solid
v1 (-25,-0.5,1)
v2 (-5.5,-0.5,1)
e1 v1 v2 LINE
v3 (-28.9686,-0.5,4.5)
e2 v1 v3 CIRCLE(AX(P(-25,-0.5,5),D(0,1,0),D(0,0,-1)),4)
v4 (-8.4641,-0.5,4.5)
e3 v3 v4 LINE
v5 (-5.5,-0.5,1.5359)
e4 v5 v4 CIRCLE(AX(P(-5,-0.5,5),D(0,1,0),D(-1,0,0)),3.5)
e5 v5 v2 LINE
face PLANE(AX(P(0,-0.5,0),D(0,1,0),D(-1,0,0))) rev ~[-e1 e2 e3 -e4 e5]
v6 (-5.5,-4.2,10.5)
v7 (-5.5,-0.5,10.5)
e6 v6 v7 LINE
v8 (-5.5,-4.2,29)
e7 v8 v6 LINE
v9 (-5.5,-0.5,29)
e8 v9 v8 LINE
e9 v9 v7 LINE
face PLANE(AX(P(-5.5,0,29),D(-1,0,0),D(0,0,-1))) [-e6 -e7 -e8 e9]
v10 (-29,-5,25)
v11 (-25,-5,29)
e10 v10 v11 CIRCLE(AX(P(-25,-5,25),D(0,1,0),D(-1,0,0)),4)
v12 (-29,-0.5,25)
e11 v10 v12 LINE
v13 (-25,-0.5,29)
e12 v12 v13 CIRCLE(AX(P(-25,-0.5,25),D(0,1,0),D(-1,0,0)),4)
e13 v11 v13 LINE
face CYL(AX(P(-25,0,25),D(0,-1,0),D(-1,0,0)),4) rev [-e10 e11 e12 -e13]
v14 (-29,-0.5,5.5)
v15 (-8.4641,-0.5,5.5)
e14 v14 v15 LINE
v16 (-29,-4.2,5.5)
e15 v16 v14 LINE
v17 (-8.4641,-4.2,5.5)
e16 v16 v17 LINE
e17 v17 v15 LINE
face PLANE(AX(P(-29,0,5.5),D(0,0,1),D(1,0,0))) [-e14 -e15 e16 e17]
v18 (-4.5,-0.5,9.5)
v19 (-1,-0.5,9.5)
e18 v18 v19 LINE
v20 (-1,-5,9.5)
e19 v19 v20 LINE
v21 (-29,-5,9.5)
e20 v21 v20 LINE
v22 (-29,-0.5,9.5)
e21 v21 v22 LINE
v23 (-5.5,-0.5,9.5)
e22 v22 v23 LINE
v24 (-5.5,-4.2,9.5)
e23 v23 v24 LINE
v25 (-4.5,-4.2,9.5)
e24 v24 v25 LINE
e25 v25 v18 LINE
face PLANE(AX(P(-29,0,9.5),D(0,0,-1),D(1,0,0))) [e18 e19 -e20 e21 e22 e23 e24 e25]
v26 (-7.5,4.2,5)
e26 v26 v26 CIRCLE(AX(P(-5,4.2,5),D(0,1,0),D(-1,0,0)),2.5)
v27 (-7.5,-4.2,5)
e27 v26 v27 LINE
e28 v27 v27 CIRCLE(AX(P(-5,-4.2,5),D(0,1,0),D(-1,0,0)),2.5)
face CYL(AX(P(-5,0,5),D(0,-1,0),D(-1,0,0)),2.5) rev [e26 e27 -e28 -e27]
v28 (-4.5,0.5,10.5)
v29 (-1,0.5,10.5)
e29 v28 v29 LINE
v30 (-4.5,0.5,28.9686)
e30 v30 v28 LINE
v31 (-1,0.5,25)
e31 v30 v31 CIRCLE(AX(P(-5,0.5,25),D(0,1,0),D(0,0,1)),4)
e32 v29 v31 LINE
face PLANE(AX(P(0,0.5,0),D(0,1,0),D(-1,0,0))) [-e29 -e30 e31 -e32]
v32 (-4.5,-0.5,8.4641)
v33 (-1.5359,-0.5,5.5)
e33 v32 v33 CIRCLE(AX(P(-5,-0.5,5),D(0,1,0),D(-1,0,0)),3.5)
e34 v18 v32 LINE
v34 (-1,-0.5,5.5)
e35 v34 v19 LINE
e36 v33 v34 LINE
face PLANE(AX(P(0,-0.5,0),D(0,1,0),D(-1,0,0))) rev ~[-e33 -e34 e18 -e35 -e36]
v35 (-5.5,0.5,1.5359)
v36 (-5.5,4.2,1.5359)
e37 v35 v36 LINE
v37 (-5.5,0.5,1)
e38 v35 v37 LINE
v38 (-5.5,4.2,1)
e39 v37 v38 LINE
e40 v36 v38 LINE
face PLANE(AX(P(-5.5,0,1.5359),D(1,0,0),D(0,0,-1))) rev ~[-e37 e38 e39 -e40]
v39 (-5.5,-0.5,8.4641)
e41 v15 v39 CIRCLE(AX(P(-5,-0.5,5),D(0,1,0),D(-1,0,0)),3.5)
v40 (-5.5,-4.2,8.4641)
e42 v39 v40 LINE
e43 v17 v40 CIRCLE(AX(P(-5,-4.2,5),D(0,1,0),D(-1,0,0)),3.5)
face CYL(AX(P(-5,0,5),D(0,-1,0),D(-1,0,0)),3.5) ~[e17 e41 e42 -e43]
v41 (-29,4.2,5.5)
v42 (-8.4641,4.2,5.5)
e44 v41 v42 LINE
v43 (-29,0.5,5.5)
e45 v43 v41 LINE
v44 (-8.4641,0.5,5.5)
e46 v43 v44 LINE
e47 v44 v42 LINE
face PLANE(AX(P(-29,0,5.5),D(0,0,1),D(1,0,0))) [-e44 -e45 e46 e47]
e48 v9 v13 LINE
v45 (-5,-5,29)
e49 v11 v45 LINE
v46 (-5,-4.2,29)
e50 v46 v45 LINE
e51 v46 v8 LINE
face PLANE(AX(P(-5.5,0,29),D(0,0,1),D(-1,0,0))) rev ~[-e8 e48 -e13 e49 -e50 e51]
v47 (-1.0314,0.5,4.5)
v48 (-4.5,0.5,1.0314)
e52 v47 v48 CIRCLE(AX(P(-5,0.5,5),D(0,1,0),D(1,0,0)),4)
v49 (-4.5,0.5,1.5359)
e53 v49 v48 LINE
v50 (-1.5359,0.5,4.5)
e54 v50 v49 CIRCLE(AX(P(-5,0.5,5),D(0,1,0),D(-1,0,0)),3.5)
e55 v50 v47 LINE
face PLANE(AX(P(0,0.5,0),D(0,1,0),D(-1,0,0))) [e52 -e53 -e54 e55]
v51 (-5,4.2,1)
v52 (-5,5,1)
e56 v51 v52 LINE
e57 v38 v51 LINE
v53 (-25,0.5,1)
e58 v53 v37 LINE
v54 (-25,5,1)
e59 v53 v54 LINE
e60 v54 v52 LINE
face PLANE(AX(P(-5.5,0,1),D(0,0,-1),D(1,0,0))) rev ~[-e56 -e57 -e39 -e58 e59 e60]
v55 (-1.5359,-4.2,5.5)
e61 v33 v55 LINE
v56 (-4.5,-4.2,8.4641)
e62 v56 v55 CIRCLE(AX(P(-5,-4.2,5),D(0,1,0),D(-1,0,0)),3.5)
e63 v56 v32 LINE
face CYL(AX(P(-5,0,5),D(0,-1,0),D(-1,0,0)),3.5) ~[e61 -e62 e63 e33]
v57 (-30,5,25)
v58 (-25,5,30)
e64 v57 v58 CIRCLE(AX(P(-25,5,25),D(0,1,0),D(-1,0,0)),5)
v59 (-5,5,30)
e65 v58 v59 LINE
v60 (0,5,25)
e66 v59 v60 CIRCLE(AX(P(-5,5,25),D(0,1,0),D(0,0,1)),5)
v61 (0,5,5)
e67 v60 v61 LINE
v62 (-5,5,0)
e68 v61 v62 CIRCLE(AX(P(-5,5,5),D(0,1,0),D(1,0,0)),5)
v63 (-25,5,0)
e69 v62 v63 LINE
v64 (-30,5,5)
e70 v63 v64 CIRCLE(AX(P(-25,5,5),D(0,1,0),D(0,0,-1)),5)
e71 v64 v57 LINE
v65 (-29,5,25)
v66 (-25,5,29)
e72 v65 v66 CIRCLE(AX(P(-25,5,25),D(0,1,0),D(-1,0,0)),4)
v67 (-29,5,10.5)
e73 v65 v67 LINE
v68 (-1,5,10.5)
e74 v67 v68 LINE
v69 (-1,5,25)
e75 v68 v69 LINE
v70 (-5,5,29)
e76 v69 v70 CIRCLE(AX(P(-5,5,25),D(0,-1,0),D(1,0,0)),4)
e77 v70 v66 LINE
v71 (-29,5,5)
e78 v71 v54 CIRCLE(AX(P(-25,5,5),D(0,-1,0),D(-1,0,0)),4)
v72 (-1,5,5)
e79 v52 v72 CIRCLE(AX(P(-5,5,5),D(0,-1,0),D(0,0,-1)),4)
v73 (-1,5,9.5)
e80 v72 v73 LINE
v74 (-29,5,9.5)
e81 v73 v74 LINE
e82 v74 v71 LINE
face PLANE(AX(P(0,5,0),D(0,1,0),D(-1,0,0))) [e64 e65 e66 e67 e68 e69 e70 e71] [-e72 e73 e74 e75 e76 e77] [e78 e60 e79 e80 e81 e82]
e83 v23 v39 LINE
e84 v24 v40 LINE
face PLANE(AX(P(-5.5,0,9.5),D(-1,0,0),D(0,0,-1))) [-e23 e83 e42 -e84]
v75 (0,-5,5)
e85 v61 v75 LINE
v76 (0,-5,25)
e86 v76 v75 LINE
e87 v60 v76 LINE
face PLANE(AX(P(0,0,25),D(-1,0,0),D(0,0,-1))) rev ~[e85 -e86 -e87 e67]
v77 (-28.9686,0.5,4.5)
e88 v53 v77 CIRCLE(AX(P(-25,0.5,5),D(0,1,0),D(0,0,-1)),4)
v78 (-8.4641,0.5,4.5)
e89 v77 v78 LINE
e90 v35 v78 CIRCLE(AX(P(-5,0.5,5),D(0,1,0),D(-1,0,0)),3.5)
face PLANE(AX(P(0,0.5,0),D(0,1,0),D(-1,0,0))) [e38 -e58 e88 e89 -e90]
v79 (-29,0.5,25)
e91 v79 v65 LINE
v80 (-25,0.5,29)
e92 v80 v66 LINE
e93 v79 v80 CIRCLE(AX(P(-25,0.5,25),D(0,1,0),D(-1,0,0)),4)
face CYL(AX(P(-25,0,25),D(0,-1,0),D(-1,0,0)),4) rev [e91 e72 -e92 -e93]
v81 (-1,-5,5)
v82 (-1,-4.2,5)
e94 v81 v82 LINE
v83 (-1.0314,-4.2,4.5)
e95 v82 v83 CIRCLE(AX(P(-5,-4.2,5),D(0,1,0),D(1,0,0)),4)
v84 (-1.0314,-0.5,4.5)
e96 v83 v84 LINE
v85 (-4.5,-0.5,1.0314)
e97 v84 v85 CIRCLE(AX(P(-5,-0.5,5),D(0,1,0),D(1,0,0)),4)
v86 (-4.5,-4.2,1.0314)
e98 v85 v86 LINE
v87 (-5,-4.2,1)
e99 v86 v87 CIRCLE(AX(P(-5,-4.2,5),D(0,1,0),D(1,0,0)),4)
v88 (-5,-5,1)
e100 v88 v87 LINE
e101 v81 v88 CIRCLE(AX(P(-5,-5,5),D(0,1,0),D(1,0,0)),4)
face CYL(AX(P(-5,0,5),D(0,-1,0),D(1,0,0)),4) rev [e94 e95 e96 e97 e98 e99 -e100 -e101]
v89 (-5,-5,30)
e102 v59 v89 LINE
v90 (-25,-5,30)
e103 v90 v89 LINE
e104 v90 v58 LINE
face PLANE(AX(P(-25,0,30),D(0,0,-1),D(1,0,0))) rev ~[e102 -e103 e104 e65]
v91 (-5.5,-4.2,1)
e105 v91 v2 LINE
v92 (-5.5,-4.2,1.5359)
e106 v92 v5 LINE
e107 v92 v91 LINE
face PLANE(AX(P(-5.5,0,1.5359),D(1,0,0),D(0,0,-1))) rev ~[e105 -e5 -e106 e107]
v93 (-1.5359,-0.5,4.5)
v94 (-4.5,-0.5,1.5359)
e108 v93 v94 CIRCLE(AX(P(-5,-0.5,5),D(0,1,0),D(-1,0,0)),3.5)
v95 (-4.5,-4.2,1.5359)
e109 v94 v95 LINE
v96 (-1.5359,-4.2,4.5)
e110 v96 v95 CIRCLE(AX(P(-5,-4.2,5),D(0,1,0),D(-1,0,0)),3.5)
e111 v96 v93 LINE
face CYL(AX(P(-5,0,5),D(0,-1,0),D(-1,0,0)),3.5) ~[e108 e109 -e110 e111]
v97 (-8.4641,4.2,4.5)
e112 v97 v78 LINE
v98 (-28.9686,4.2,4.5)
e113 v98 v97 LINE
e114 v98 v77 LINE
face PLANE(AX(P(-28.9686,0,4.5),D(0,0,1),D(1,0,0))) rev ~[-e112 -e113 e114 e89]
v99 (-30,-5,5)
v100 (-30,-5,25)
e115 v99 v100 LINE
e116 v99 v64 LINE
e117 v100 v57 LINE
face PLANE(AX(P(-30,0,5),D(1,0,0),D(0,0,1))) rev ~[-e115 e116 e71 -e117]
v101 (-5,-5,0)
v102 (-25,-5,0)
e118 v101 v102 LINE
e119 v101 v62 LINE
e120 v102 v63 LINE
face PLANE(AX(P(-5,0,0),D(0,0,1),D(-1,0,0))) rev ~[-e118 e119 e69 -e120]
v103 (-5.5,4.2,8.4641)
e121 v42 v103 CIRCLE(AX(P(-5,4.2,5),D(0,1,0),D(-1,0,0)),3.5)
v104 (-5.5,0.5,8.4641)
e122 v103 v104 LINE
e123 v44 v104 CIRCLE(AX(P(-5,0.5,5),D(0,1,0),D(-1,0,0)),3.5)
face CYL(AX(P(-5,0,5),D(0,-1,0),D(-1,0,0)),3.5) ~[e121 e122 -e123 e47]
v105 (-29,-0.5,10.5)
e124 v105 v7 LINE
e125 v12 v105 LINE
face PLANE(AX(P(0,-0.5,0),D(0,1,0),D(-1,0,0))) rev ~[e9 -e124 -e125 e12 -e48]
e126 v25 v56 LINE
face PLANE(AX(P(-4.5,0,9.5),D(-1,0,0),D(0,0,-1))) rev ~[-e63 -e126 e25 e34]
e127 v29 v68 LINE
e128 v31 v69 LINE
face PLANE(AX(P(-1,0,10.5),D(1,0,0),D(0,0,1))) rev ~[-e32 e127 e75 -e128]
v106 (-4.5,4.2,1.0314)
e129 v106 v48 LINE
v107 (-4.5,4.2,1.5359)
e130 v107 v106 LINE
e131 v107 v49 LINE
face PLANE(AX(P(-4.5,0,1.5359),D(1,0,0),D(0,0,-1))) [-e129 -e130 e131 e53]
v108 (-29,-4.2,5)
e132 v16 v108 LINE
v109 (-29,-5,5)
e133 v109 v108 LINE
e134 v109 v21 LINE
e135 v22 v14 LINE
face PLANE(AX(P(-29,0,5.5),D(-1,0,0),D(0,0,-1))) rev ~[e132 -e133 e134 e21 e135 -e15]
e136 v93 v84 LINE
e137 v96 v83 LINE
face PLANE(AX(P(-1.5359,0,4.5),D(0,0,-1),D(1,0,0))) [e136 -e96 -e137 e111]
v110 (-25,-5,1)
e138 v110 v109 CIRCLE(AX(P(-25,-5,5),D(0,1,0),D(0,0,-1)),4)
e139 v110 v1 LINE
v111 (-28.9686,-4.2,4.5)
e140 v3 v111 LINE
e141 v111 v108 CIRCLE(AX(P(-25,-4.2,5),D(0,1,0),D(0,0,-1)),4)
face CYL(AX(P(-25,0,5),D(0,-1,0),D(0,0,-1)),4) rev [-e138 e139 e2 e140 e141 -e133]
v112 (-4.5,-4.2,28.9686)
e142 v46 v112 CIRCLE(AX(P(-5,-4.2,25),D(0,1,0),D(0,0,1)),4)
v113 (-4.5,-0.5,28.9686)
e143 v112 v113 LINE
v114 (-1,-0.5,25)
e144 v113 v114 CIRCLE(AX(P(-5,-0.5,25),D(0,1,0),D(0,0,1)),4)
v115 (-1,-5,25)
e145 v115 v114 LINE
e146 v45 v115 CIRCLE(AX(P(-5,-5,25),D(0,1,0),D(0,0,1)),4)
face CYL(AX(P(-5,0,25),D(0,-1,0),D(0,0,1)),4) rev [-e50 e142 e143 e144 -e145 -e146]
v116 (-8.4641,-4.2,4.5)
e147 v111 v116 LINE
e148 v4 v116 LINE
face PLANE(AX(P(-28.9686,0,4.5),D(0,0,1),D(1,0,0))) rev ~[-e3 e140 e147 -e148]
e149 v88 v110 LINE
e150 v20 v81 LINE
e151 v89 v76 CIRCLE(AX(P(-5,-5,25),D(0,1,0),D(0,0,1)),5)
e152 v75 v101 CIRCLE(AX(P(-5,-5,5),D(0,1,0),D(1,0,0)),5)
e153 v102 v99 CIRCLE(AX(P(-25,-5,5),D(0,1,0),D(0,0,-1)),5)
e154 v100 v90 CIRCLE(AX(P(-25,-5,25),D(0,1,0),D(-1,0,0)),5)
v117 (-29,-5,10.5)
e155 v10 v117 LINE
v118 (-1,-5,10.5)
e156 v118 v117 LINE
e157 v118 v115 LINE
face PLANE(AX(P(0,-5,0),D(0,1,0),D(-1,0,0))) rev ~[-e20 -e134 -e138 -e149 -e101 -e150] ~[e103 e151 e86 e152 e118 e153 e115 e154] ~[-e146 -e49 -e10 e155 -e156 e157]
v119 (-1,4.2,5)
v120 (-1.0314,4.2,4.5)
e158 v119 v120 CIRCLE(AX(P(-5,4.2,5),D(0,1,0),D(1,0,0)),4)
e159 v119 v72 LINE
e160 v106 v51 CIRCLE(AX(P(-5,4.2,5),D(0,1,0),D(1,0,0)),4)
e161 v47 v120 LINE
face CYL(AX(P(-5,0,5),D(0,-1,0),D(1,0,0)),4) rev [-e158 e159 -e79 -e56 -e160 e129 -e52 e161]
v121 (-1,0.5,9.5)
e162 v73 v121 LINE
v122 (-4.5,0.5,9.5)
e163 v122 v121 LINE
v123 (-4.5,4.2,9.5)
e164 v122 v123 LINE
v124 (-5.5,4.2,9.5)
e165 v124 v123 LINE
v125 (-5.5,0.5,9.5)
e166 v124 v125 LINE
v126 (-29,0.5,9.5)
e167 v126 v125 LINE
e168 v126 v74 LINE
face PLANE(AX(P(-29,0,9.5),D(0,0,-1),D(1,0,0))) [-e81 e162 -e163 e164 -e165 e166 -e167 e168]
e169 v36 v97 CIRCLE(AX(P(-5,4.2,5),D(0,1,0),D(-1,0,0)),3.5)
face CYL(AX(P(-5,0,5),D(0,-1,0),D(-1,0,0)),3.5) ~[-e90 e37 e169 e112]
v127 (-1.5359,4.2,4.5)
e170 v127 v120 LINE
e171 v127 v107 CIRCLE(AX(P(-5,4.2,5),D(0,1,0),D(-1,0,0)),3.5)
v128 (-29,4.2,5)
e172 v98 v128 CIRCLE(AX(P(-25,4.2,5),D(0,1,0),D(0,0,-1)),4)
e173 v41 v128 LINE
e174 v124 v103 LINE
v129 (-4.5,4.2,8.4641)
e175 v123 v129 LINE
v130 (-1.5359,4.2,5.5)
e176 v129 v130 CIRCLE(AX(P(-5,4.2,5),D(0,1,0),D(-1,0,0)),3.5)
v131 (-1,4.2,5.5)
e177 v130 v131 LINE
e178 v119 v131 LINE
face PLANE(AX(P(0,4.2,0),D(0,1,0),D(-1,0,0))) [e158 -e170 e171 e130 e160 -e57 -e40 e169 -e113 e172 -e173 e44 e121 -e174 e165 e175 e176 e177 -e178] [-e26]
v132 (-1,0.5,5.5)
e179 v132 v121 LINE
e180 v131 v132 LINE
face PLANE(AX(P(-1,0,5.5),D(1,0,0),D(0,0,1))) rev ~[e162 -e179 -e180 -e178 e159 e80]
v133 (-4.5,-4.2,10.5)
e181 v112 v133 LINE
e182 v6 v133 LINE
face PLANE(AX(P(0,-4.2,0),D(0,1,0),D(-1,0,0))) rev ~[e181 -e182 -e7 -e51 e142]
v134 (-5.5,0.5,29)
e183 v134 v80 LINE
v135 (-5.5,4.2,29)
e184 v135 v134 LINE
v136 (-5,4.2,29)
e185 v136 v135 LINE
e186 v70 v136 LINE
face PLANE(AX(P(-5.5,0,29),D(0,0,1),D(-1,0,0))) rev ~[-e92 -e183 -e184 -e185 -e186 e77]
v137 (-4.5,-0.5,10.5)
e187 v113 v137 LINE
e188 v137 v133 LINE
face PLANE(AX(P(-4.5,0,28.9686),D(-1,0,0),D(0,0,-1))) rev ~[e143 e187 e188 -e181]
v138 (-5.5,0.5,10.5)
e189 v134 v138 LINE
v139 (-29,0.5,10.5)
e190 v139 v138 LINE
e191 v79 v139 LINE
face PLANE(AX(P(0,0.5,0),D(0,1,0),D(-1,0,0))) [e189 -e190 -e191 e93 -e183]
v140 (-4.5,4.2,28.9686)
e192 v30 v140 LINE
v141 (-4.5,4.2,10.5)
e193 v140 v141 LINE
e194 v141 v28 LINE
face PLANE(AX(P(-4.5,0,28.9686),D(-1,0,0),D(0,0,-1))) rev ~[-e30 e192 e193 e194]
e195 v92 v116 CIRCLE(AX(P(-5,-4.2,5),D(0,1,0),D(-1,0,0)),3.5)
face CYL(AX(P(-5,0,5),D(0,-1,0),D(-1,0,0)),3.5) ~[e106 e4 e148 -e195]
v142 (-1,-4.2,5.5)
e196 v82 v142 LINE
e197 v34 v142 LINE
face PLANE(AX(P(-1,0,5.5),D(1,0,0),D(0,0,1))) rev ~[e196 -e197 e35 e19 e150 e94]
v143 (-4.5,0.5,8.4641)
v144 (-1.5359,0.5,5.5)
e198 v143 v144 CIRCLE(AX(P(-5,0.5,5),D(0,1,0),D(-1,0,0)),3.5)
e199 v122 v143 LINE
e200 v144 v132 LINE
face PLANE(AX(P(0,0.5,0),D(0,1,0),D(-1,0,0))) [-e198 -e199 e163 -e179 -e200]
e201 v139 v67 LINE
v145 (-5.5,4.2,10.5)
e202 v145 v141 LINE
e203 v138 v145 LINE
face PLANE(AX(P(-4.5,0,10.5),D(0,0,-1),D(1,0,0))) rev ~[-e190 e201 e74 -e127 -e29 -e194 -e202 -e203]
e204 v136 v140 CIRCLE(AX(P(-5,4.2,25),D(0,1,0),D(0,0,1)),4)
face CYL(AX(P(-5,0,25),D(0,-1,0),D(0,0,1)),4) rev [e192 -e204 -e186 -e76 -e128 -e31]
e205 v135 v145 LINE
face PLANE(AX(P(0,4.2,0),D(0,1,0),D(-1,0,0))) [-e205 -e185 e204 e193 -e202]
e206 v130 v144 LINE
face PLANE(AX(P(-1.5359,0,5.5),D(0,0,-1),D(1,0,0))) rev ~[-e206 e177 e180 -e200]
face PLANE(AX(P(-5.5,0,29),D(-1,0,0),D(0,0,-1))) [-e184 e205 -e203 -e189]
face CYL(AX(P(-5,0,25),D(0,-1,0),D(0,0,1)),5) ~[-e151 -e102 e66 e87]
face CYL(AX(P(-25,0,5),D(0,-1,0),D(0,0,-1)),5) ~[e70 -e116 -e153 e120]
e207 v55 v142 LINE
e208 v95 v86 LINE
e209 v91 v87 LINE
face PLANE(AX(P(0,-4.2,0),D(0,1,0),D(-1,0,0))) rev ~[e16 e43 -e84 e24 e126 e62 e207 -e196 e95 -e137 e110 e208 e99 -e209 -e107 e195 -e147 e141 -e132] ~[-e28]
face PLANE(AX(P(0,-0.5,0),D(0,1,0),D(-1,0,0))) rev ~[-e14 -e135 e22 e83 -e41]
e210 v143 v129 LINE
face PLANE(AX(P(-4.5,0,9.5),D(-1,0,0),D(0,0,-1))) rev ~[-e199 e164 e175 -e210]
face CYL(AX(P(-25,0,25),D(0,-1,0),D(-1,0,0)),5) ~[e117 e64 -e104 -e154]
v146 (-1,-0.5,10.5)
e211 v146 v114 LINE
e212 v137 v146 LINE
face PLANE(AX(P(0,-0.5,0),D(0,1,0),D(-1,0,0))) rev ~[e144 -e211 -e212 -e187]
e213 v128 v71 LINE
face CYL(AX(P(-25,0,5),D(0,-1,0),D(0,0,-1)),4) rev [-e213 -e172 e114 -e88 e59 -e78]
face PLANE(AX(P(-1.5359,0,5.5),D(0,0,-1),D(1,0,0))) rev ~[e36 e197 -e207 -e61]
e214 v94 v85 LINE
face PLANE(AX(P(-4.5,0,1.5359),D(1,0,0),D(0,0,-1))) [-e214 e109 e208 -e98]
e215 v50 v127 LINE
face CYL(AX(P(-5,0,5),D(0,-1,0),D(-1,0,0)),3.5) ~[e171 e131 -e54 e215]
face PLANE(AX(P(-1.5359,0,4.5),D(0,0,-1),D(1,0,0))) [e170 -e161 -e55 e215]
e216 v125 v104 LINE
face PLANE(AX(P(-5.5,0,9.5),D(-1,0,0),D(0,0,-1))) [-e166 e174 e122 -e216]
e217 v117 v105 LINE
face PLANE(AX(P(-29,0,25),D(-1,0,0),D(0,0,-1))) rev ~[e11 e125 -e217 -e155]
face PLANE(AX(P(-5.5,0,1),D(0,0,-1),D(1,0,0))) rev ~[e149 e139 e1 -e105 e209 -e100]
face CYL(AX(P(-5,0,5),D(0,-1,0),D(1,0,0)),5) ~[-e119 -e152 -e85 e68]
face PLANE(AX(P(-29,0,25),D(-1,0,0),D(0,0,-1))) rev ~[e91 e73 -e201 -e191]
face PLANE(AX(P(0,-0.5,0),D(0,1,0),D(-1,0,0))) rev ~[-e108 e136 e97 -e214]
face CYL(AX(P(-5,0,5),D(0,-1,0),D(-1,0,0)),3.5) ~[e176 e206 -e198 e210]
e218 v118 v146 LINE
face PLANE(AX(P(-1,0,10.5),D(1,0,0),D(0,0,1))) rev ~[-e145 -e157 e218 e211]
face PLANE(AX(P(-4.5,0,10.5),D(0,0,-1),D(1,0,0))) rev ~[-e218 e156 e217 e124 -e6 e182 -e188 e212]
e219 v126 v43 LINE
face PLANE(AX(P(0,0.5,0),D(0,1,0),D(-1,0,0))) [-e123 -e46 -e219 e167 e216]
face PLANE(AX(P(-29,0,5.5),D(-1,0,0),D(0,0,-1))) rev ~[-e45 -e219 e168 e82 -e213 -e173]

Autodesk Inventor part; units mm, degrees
ref_plane "YZ Plane" through (0, 0, 0) normal (1, 0, 0) x (0, 1, 0)
ref_plane "XZ Plane" through (0, 0, 0) normal (0, 1, 0) x (-1, 0, 0)
ref_plane "XY Plane" through (0, 0, 0) normal (0, 0, 1) x (1, 0, 0)
sketch "Beam_sketch" plane through (0, 0, 0) normal (0, 1, 0) x (-1, 0, 0)
  line L0 (5, 0) -> (25, 0)
  line L1 (30, 5) -> (30, 25)
  line L2 (25, 30) -> (5, 30)
  line L3 (0, 25) -> (0, 5)
  line L4 (5, 29) -> (25, 29)
  line L5 (29, 25) -> (29, 5)
  line L6 (25, 1) -> (5, 1)
  line L7 (1, 5) -> (1, 25)
  circle A0 centre (5, 5) radius 2.5
  circle A1 centre (5, 5) radius 3.5
  arc A2 (25, 0) -> (30, 5) centre (25, 5) ccw
  arc A3 (30, 25) -> (25, 30) centre (25, 25) ccw
  arc A4 (5, 30) -> (0, 25) centre (5, 25) ccw
  arc A5 (0, 5) -> (5, 0) centre (5, 5) ccw
  arc A6 (1, 5) -> (5, 1) centre (5, 5) ccw
  arc A7 (5, 29) -> (1, 25) centre (5, 25) ccw
  arc A8 (29, 25) -> (25, 29) centre (25, 25) ccw
  arc A9 (25, 1) -> (29, 5) centre (25, 5) ccw
  line L8 (49.1041, 15) -> (-27.081, 15) construction
  line L9 (31.1478, 10) -> (-2.4877, 10) construction
  line L10 (-2.8604, 5) -> (35.495, 5) construction
  line L11 (5, -2.5736) -> (5, 36.7522) construction
  line L12 (15, -1.4978) -> (15, 34.8784) construction
  line L13 (1.5359, 5.5) -> (1, 5.5)
  line L14 (1.5359, 4.5) -> (1.0314, 4.5)
  line L15 (28.9686, 4.5) -> (8.4641, 4.5)
  line L16 (29, 5.5) -> (8.4641, 5.5)
  line L17 (4.5, 1.5359) -> (4.5, 1.0314)
  line L18 (5.5, 1.5359) -> (5.5, 1)
  line L19 (29, 10.5) -> (1, 10.5)
  line L20 (29, 9.5) -> (1, 9.5)
  line L21 (4.5, 28.9686) -> (4.5, 10.5)
  line L22 (4.5, 9.5) -> (4.5, 8.4641)
  line L23 (5.5, 29) -> (5.5, 10.5)
  line L24 (5.5, 9.5) -> (5.5, 8.4641)
  point P0 (0, 0)
  point P1 (30, 30)
  point P2 (0, 30)
  dimension "d46" = 7
  dimension "d0" = 30
  dimension "d1" = 30
  dimension "d2" = 1
  dimension "d3" = 5
  dimension "d5" = 5
  dimension "d7" = 5
  dimension "d8" = 4
  dimension "d29" = 5
  dimension "d40" = 10
  dimension "d58" = 1
  dimension "d59" = 1
  dimension "d72" = 1
extrude "Extrusion5" add sketch "Beam_sketch" along normal blind 5 contours A5 L3 A4 L2 A3 L1 A2 L0 | L19 L5 L20 L7
extrude "Extrusion6" add sketch "Beam_sketch" against normal blind 5 contours A5 L3 A4 L2 A3 L1 A2 L0 | L19 L5 L20 L7
extrude "Extrusion7" add sketch "Beam_sketch" along normal blind 4.2 contours L4 L23 L19 L21 A7 | L5 A9 L15 A1 L16 | L24 A1 L22 L20 | L13 A1 L14 A6 L7 | A1 | L17 A1 L18 L6 A6
extrude "Extrusion8" add sketch "Beam_sketch" against normal blind 4.2 contours L4 L23 L19 L21 A7 | L5 A9 L15 A1 L16 | L24 A1 L22 L20 | L13 A1 L14 A6 L7 | A1 | L17 A1 L18 L6 A6
extrude "Extrusion9" add sketch "Beam_sketch" along normal blind 0.5 contours L4 A8 L5 L19 L23 | L21 L19 L7 A7 | L5 L16 A1 L24 L20 | L20 L22 A1 L13 L7 | A9 L6 L18 A1 L15 | L14 A1 L17 A6
extrude "Extrusion10" add sketch "Beam_sketch" against normal blind 0.5 contours L4 A8 L5 L19 L23 | L21 L19 L7 A7 | L5 L16 A1 L24 L20 | L20 L22 A1 L13 L7 | A9 L6 L18 A1 L15 | L14 A1 L17 A6
sketch "Axle_sketch" plane through (0, 0, 0) normal (0, 1, 0) x (-1, 0, 0)
  circle A0 centre (-15.8957, 4.3197) radius 2.5 construction
  line L0 (-14.4207, 2.4447) -> (-17.3707, 2.4447)
  line L1 (-17.7707, 2.8447) -> (-17.7707, 5.7947)
  line L2 (-17.3707, 6.1947) -> (-14.4207, 6.1947)
  line L3 (-14.0207, 5.7947) -> (-14.0207, 2.8447)
  line L4 (-14.0207, 2.4447) -> (-17.7707, 6.1947) construction
  line L5 (-17.7707, 2.4447) -> (-14.0207, 6.1947) construction
  arc A1 (-14.4207, 2.4447) -> (-14.0207, 2.8447) centre (-14.4207, 2.8447) ccw
  arc A2 (-17.7707, 2.8447) -> (-17.3707, 2.4447) centre (-17.3707, 2.8447) ccw
  arc A3 (-14.0207, 5.7947) -> (-14.4207, 6.1947) centre (-14.4207, 5.7947) ccw
  arc A4 (-17.3707, 6.1947) -> (-17.7707, 5.7947) centre (-17.3707, 5.7947) ccw
  point P0 (0, 0)
  dimension "d85" = 5
  dimension "d86" = 3.75
  dimension "d87" = 3.75
  dimension "d88" = 0.4
sketch "Axle_hole_sketch" plane through (0, 0, 0) normal (0, 1, 0) x (-1, 0, 0)
  line L0 (-14.3207, 2.4447) -> (-17.4707, 2.4447)
  line L1 (-17.7707, 2.7447) -> (-17.7707, 5.8947)
  line L2 (-17.4707, 6.1947) -> (-14.3207, 6.1947)
  line L3 (-14.0207, 5.8947) -> (-14.0207, 2.7447)
  line L4 (-14.0207, 2.4447) -> (-17.7707, 6.1947) construction
  line L5 (-17.7707, 2.4447) -> (-14.0207, 6.1947) construction
  arc A0 (-14.3207, 2.4447) -> (-14.0207, 2.7447) centre (-14.3207, 2.7447) ccw
  arc A1 (-17.7707, 2.7447) -> (-17.4707, 2.4447) centre (-17.4707, 2.7447) ccw
  arc A2 (-17.4707, 6.1947) -> (-17.7707, 5.8947) centre (-17.4707, 5.8947) ccw
  arc A3 (-14.0207, 5.8947) -> (-14.3207, 6.1947) centre (-14.3207, 5.8947) ccw
  point P0 (0, 0)
  point P1 (-15.8957, 4.3197)
  dimension "d89" = 3.75
  dimension "d90" = 3.75
  dimension "d91" = 0.3
equation "\"d46\" = Hole_diameter + 2 * Wall_thickness"
equation "\"d2\" = Wall_thickness"
equation "\"d3\" = Hole_diameter + Hole_diameter_toleracne"
equation "\"d7\" = Outer_fillet"
equation "\"d8\" = Outer_fillet - Wall_thickness"
equation "\"Outer_fillet\" = 5"
equation "\"Hole_diameter\" = 5"
equation "\"Hole_diameter_toleracne\" = 0"
equation "\"Overall_height\" = 10"
equation "\"Inner_thickness\" = 1"
equation "\"Hole_ring_thickness\" = 1"
equation "\"Inner_route_thickness\" = 1"
equation "\"Wall_thickness\" = 1"
equation "\"Hole_height\" = 8.4"
equation "\"d52\" = Inner_route_thickness"
equation "\"d53\" = Inner_route_thickness"
equation "\"d54\" = Inner_route_thickness"
equation "\"Width_tolerance\" = 0"
equation "\"Length_tolerance\" = 0"
equation "\"Axle_width\" = 3.75"
equation "\"Axle_fillet\" = 0.4"
equation "\"Axle_hole_width\" = 3.75"
equation "\"Axle_hole_fillet\" = 0.3"
equation "\"Gear_thickness\" = 5"
equation "\"Gear_tooth_wall_thickness\" = 1"
properties part number "Base_part"
